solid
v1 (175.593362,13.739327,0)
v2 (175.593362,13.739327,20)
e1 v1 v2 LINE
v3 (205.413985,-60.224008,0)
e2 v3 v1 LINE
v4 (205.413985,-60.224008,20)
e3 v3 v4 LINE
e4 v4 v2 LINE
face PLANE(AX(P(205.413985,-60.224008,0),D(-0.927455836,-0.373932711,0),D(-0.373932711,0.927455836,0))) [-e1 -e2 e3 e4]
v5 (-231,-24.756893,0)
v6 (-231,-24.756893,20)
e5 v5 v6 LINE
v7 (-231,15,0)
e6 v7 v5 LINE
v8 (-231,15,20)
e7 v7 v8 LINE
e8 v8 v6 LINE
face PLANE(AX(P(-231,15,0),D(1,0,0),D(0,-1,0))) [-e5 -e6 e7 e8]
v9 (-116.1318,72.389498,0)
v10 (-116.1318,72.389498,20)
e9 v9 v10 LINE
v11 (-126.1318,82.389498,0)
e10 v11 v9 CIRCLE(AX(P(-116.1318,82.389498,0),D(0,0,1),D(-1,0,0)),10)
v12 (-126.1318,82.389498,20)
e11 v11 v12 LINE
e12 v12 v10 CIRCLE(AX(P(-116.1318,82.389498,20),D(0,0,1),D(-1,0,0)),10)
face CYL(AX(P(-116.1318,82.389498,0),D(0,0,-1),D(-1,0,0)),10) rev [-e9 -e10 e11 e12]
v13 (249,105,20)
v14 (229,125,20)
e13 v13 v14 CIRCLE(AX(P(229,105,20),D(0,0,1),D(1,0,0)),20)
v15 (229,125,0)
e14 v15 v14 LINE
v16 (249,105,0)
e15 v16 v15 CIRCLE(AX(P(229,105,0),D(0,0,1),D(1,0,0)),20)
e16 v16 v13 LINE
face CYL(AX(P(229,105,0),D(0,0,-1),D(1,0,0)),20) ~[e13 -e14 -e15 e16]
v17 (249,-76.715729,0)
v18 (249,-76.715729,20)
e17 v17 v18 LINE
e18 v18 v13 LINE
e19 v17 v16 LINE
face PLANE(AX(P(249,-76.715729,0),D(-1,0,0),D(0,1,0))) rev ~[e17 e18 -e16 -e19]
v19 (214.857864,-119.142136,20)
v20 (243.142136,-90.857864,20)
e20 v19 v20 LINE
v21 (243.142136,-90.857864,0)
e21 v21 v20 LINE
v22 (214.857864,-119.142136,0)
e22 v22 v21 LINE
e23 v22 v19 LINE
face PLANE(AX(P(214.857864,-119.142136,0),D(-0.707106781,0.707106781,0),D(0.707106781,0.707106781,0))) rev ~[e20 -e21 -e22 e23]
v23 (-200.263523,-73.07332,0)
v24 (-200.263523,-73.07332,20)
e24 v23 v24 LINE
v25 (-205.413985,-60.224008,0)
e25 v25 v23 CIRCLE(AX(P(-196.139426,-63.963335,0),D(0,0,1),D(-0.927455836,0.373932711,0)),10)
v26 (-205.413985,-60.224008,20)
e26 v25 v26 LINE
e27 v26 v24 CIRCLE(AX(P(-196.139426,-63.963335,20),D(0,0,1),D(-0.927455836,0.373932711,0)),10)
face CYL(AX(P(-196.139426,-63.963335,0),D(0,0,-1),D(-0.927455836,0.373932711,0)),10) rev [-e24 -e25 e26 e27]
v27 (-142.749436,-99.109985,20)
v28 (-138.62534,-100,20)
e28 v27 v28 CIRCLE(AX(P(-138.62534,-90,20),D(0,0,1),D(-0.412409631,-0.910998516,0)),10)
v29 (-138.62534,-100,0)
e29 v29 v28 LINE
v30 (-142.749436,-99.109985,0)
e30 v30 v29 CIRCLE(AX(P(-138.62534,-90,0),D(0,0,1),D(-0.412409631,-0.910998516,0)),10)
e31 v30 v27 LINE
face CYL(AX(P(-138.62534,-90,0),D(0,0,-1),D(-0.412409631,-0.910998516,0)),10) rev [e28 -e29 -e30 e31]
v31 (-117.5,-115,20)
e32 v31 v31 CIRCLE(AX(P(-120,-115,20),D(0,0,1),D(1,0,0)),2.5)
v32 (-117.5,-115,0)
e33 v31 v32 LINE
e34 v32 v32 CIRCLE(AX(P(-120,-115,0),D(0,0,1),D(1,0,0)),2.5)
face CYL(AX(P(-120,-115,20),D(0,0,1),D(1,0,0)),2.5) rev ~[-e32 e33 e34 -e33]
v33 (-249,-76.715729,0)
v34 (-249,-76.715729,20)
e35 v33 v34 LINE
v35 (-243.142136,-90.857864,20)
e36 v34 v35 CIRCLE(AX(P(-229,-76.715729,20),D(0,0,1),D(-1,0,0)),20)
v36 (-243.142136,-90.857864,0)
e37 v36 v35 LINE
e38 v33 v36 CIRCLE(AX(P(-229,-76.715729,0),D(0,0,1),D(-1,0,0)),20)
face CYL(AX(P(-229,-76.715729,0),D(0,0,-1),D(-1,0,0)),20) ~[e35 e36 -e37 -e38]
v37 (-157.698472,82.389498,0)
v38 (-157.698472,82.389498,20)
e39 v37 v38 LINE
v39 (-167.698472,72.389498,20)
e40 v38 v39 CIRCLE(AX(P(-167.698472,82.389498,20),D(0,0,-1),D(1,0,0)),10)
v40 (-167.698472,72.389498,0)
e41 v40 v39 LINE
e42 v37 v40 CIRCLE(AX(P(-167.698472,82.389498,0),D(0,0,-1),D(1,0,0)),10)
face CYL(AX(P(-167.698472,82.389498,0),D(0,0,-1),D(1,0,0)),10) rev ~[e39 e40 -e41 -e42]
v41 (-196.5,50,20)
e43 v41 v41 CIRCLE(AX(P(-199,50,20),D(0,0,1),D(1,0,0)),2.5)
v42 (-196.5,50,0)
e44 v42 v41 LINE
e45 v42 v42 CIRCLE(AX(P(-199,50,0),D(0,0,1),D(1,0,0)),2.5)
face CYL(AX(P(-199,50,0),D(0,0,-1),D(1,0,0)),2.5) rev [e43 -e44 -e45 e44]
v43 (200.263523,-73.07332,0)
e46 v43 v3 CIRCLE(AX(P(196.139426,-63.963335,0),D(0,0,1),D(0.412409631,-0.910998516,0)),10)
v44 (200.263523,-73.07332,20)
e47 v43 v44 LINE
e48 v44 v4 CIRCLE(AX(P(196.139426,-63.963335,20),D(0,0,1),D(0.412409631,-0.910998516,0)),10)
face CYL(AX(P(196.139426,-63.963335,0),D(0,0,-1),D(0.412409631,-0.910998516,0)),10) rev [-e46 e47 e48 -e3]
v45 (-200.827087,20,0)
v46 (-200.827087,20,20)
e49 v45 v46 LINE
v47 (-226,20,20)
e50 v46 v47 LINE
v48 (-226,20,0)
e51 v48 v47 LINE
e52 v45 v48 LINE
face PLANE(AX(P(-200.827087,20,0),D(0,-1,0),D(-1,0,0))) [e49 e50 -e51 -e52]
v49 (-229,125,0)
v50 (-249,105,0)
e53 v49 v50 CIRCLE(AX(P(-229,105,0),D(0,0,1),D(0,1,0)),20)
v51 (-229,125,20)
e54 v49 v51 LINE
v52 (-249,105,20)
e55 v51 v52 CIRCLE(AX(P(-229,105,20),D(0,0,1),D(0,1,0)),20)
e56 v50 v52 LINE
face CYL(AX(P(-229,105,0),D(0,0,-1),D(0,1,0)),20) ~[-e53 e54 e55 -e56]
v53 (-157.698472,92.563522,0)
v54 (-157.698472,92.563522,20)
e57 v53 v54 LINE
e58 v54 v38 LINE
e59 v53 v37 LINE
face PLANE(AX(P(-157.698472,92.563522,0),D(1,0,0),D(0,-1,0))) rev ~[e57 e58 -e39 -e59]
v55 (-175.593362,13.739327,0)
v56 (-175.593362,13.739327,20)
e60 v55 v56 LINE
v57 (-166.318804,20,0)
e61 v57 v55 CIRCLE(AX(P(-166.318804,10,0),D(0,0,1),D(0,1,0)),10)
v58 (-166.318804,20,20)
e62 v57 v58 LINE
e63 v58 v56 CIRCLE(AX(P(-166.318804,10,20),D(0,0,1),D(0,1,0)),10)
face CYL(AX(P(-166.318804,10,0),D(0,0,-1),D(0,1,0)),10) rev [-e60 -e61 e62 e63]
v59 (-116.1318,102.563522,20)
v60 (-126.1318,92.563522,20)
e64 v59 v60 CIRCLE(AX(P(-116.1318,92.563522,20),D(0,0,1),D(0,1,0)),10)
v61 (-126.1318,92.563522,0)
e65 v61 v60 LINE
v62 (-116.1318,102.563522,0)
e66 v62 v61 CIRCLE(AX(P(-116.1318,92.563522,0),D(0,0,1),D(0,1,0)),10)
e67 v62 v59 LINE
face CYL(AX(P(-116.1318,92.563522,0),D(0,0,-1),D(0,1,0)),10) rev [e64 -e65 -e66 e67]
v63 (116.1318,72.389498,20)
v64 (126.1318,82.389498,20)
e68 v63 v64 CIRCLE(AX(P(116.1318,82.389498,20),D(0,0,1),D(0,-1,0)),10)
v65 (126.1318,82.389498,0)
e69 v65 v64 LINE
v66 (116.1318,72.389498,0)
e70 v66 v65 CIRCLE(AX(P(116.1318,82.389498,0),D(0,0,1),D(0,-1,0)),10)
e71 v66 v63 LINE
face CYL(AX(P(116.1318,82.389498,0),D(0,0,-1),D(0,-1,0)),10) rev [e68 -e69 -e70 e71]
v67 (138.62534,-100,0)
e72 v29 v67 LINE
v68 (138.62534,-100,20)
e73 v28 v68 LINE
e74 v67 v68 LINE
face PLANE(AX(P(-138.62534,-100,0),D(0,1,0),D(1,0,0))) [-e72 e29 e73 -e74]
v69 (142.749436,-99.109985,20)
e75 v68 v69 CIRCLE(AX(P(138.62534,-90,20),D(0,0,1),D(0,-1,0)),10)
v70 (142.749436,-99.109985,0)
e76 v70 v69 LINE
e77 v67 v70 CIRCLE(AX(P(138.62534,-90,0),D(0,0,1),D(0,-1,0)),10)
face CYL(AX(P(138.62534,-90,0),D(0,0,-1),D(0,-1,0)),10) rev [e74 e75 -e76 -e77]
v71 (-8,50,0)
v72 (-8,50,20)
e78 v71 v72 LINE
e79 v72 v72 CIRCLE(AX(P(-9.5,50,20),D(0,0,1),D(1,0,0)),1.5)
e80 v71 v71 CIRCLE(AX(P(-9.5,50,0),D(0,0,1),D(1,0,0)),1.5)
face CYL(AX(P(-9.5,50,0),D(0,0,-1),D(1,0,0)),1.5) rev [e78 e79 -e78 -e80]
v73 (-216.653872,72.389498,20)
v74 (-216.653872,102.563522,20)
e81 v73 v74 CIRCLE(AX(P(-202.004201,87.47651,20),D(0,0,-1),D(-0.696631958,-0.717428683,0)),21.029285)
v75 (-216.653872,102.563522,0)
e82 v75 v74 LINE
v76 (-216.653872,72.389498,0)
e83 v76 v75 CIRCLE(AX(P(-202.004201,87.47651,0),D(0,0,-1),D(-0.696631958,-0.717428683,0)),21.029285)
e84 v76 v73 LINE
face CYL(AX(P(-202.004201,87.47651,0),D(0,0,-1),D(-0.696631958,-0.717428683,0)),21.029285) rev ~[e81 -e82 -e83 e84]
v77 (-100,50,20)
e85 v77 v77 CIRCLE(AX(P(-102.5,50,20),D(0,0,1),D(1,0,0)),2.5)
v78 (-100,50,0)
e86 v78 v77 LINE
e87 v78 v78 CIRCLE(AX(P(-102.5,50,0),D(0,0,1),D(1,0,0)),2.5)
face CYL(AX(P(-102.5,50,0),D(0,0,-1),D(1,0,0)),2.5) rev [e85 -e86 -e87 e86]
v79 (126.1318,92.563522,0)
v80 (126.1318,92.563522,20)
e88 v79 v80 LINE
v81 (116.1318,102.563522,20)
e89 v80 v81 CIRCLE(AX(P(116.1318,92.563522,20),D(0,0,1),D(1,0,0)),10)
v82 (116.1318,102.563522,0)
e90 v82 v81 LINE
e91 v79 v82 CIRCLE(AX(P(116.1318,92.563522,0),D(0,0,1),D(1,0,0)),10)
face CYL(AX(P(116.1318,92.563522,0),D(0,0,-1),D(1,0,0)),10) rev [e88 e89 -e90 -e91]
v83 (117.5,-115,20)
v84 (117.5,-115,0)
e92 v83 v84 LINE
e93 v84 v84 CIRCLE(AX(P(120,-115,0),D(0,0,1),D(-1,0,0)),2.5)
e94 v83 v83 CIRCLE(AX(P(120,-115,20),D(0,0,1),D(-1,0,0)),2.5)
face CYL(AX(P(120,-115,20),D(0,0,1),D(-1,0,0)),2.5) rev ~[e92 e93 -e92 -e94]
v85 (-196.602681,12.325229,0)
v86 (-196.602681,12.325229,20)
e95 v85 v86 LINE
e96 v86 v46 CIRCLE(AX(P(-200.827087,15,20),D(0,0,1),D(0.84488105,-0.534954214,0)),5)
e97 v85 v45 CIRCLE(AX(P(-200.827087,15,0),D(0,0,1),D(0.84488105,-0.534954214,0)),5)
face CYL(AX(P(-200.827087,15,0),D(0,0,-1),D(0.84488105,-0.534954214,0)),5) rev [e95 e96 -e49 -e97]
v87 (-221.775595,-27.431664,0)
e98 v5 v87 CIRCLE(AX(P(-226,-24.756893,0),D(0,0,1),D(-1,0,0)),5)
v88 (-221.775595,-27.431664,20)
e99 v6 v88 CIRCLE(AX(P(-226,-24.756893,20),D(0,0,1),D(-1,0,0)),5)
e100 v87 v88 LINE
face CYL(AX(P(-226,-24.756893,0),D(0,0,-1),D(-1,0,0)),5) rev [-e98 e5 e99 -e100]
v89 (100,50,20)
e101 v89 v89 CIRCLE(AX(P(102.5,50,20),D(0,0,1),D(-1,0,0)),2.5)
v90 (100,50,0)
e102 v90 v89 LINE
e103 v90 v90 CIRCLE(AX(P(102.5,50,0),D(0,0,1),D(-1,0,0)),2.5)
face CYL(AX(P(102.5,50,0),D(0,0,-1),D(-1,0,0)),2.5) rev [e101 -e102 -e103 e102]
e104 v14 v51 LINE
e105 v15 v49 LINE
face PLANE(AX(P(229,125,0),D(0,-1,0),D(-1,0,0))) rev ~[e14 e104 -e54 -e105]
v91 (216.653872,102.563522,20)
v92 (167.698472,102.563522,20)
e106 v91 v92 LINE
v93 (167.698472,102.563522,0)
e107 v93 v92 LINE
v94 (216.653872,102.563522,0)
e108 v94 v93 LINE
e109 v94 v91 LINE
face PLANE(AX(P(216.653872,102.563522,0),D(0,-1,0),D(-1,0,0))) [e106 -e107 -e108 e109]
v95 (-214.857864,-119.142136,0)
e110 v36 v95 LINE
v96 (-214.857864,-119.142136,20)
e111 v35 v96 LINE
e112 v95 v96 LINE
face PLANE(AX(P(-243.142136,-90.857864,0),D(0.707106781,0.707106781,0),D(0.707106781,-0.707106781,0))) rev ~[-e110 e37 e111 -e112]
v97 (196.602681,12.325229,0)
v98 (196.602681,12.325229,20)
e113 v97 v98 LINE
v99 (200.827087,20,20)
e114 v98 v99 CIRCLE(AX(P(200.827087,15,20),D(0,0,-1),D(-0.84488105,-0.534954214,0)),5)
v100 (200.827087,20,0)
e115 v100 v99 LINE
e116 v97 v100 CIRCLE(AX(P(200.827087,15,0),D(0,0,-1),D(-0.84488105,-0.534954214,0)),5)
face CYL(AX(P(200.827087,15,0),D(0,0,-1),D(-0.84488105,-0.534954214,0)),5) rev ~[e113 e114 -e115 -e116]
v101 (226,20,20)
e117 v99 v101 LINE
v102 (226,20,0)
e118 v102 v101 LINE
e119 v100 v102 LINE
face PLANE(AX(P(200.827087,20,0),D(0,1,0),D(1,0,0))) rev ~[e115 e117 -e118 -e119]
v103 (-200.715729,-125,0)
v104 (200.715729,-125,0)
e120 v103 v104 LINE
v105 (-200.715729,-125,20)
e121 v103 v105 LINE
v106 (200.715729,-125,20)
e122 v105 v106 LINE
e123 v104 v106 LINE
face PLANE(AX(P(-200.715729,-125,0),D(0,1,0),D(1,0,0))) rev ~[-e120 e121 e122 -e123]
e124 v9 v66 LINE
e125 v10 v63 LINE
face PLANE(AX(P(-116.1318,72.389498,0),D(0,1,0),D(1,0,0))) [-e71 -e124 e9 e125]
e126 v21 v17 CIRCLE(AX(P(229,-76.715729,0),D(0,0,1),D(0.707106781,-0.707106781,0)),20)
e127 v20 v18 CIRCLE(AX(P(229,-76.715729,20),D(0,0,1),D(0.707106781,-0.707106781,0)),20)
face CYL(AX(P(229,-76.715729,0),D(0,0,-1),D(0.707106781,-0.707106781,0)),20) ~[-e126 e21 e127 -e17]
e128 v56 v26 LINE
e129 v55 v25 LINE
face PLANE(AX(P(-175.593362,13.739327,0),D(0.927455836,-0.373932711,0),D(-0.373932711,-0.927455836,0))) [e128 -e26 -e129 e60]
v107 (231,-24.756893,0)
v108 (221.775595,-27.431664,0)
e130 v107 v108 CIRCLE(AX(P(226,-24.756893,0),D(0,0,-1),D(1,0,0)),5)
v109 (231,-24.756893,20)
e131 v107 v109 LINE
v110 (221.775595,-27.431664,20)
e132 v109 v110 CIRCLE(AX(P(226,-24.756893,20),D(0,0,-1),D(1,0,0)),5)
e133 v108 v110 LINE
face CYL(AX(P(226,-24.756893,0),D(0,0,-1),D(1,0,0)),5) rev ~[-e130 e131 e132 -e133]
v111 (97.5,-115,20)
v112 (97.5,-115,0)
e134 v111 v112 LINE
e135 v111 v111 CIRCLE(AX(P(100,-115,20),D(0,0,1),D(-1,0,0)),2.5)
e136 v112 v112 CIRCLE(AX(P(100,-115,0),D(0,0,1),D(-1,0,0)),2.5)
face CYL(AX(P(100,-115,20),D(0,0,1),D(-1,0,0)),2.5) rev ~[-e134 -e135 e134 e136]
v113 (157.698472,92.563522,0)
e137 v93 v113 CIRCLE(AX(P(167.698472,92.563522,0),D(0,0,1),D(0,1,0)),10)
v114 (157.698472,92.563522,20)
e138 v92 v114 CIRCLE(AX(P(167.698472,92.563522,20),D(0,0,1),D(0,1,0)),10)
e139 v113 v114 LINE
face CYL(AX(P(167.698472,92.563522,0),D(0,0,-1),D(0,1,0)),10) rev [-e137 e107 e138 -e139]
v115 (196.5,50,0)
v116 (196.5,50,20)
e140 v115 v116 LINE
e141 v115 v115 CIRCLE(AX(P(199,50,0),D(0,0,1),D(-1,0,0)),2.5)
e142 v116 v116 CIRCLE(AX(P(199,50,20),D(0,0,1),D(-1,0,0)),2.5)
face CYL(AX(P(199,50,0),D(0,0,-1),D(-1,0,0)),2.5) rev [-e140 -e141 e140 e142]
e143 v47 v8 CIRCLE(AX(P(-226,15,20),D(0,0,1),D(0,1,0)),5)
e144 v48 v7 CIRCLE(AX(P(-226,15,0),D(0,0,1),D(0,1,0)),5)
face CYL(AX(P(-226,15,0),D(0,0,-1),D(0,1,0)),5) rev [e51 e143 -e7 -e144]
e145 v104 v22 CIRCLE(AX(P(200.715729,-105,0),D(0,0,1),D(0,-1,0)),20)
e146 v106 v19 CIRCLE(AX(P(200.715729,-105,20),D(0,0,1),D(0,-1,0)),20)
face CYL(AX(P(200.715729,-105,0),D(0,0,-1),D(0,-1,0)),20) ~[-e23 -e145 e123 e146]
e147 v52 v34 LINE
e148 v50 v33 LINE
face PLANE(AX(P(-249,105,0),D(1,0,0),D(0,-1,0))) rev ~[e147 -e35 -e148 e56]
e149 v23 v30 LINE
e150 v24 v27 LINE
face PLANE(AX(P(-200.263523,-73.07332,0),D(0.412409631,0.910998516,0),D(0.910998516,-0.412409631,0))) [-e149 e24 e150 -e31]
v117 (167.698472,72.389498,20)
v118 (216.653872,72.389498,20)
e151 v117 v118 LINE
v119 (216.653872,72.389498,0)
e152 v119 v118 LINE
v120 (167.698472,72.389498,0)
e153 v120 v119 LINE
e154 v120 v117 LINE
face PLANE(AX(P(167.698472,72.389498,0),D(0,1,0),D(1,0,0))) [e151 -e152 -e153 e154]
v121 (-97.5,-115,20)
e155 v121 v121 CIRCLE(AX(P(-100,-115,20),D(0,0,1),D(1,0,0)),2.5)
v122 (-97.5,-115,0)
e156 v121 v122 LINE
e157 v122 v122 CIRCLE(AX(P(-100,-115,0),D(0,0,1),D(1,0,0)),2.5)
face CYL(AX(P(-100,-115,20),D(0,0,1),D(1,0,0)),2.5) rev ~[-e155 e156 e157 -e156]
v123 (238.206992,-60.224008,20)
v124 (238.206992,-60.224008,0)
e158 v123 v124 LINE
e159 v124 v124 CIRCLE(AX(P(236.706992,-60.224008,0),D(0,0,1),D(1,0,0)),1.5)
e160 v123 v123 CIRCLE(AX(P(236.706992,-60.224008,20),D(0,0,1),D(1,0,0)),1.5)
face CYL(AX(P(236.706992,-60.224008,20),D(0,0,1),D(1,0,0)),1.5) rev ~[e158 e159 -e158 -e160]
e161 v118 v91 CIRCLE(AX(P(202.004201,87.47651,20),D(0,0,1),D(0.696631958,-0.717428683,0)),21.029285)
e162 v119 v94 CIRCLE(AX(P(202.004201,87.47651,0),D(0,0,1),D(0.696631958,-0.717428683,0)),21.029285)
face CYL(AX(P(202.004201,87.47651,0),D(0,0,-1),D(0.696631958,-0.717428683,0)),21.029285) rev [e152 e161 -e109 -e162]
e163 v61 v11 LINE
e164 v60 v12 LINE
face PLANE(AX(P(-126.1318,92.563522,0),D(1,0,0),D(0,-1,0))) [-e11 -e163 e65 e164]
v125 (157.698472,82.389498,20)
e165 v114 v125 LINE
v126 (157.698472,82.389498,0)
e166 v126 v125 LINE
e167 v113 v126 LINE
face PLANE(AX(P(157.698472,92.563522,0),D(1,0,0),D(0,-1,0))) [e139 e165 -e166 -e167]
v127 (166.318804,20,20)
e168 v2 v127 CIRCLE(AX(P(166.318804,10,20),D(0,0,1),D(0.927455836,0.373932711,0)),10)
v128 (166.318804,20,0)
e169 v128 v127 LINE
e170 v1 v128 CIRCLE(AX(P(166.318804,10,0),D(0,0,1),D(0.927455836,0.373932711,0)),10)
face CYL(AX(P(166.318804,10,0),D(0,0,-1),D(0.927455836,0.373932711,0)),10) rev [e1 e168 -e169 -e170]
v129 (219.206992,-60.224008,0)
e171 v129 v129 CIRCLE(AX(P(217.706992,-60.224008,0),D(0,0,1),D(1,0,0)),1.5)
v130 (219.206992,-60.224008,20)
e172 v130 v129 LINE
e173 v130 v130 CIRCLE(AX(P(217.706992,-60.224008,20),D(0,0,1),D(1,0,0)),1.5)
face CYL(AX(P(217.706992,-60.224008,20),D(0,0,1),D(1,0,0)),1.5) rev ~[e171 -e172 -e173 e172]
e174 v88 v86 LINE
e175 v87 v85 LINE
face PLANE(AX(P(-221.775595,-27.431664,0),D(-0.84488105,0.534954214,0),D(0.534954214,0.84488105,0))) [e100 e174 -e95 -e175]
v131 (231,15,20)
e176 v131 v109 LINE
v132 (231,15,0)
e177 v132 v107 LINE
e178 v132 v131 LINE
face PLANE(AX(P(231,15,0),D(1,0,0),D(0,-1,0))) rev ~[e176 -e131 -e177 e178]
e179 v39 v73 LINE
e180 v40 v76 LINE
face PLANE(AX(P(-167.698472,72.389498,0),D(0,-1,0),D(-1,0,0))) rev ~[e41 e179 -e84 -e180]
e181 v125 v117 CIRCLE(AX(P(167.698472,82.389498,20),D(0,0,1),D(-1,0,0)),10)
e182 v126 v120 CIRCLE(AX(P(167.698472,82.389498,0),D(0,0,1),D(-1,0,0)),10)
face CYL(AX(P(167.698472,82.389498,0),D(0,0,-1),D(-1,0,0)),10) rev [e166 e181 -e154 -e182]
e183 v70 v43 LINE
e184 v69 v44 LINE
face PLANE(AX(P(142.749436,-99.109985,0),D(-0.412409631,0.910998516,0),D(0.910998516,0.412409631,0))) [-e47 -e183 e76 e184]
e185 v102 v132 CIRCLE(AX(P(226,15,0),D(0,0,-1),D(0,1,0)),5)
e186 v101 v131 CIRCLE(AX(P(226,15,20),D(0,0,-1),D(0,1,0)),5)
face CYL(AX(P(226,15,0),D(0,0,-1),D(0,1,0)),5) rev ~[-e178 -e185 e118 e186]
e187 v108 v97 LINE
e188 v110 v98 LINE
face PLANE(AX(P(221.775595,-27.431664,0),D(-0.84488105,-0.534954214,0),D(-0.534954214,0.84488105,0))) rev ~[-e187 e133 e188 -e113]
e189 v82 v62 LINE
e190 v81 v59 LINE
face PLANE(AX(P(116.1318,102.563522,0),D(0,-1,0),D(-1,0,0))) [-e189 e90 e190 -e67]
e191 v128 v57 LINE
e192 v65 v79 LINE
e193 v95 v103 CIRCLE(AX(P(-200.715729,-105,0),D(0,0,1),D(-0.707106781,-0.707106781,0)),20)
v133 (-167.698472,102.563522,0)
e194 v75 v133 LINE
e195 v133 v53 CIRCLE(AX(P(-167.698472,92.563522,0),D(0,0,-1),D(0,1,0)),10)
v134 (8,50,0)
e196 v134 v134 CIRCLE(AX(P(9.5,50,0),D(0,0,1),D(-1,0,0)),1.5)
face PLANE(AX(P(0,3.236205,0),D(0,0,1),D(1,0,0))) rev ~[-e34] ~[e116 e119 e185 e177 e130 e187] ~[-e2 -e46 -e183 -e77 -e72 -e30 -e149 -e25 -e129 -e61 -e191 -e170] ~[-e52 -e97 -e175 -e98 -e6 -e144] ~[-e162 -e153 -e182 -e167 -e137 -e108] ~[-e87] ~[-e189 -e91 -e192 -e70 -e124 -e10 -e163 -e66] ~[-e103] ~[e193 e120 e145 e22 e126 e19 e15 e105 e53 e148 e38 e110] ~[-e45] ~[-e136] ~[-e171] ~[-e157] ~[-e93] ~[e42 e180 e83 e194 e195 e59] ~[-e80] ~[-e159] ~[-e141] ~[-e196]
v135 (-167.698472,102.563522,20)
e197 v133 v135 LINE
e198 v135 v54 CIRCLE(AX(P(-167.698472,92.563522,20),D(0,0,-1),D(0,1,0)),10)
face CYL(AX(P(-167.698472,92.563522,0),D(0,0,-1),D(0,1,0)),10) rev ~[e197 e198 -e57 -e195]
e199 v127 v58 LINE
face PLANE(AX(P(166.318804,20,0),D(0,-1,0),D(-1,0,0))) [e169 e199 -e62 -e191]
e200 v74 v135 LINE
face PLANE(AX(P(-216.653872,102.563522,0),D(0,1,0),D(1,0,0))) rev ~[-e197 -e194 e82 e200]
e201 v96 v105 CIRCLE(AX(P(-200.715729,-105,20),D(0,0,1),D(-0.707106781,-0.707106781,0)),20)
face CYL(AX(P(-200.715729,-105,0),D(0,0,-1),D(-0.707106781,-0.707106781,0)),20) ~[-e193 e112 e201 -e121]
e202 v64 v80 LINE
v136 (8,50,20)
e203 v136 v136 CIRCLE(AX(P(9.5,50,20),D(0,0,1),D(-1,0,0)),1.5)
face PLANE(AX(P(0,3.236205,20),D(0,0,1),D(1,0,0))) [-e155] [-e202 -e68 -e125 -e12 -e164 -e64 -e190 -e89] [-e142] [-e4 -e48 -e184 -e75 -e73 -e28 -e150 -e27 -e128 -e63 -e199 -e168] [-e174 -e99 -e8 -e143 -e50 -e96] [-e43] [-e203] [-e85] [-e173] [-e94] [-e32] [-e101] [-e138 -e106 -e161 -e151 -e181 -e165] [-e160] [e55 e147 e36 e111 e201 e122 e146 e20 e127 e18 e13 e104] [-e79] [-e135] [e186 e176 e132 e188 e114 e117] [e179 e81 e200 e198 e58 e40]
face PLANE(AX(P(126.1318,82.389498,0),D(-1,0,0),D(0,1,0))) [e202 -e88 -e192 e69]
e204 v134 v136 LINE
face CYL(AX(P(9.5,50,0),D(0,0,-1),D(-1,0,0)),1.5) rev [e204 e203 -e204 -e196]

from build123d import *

# Parameters (mm, degrees)
SKETCH1_R           = 2.5
SKETCH1_R_2         = 1.5
BOSS_EXTRUDE1_DEPTH = 20
SKETCH3_R           = 2.5
CUT_EXTRUDE1_DEPTH  = 20
SKETCH4_R           = 1.5
CUT_EXTRUDE2_DEPTH  = 20


with BuildPart() as part:
    # Sketch1 → Boss-Extrude1 (new body)
    with BuildSketch(Plane.XY):
        with BuildLine():
            Line((-200.715728753, -125), (200.715728753, -125))
            ThreePointArc((200.715728753, -125), (208.3693974, -123.47759065), (214.857864376, -119.142135624))
            Line((214.857864376, -119.142135624), (243.142135624, -90.857864376))
            ThreePointArc((243.142135624, -90.857864376), (247.47759065, -84.3693974), (249, -76.715728753))
            Line((249, -76.715728753), (249, 105))
            ThreePointArc((249, 105), (243.142135624, 119.142135624), (229, 125))
            Line((229, 125), (-229, 125))
            ThreePointArc((-229, 125), (-243.142135624, 119.142135624), (-249, 105))
            Line((-249, 105), (-249, -76.715728753))
            ThreePointArc((-249, -76.715728753), (-247.47759065, -84.3693974), (-243.142135624, -90.857864376))
            Line((-243.142135624, -90.857864376), (-214.857864376, -119.142135624))
            ThreePointArc((-214.857864376, -119.142135624), (-208.3693974, -123.47759065), (-200.715728753, -125))
        make_face()
        with Locations((-199, 50)):
            Circle(SKETCH1_R, mode=Mode.SUBTRACT)
        with Locations((-102.5, 50)):
            Circle(SKETCH1_R, mode=Mode.SUBTRACT)
        with Locations(Location((102.5, 50, 0), (0, 0, 180))):
            Circle(SKETCH1_R, mode=Mode.SUBTRACT)
        with Locations(Location((199, 50, 0), (0, 0, 180))):
            Circle(SKETCH1_R, mode=Mode.SUBTRACT)
        with Locations((-9.5, 50)):
            Circle(SKETCH1_R_2, mode=Mode.SUBTRACT)
        with Locations(Location((9.5, 50, 0), (0, 0, 180))):
            Circle(SKETCH1_R_2, mode=Mode.SUBTRACT)
        with BuildLine():
            Line((116.131800265, 102.563522474), (-116.131800265, 102.563522474))
            ThreePointArc((-116.131800265, 102.563522474), (-123.202868077, 99.634590285), (-126.131800265, 92.563522474))
            Line((-126.131800265, 92.563522474), (-126.131800265, 82.389498448))
            ThreePointArc((-126.131800265, 82.389498448), (-123.202868077, 75.318430636), (-116.131800265, 72.389498448))
            Line((-116.131800265, 72.389498448), (116.131800265, 72.389498448))
            ThreePointArc((116.131800265, 72.389498448), (123.202868077, 75.318430636), (126.131800265, 82.389498448))
            Line((126.131800265, 82.389498448), (126.131800265, 92.563522474))
            ThreePointArc((126.131800265, 92.563522474), (123.202868077, 99.634590285), (116.131800265, 102.563522474))
        make_face(mode=Mode.SUBTRACT)
        with BuildLine():
            Line((-216.653872342, 102.563522474), (-167.698471554, 102.563522474))
            ThreePointArc((-167.698471554, 102.563522474), (-160.627403742, 99.634590285), (-157.698471554, 92.563522474))
            Line((-157.698471554, 92.563522474), (-157.698471554, 82.389498448))
            ThreePointArc((-157.698471554, 82.389498448), (-160.627403742, 75.318430636), (-167.698471554, 72.389498448))
            Line((-167.698471554, 72.389498448), (-216.653872342, 72.389498448))
            ThreePointArc((-216.653872342, 72.389498448), (-223.033485264, 87.476510461), (-216.653872342, 102.563522474))
        make_face(mode=Mode.SUBTRACT)
        with BuildLine():
            Line((166.318803771, 20), (-166.318803771, 20))
            ThreePointArc((-166.318803771, 20), (-171.913744739, 18.288343355), (-175.593362129, 13.739327113))
            Line((-175.593362129, 13.739327113), (-205.413984615, -60.224007784))
            ThreePointArc((-205.413984615, -60.224007784), (-205.421516172, -67.683927162), (-200.263522564, -73.073320059))
            Line((-200.263522564, -73.073320059), (-142.749435826, -99.109985162))
            ThreePointArc((-142.749435826, -99.109985162), (-140.734859414, -99.774964236), (-138.625339518, -100))
            Line((-138.625339518, -100), (138.625339518, -100))
            ThreePointArc((138.625339518, -100), (140.734859414, -99.774964236), (142.749435826, -99.109985162))
            Line((142.749435826, -99.109985162), (200.263522564, -73.073320059))
            ThreePointArc((200.263522564, -73.073320059), (205.421516172, -67.683927162), (205.413984615, -60.224007784))
            Line((205.413984615, -60.224007784), (175.593362129, 13.739327113))
            ThreePointArc((175.593362129, 13.739327113), (171.913744739, 18.288343355), (166.318803771, 20))
        make_face(mode=Mode.SUBTRACT)
        with BuildLine():
            Line((-231, 15), (-231, -24.756893222))
            ThreePointArc((-231, -24.756893222), (-227.392475088, -29.55908159), (-221.775594749, -27.431664291))
            Line((-221.775594749, -27.431664291), (-196.602681295, 12.325228931))
            ThreePointArc((-196.602681295, 12.325228931), (-196.446798009, 17.411031382), (-200.827086546, 20))
            Line((-200.827086546, 20), (-226, 20))
            ThreePointArc((-226, 20), (-229.535533906, 18.535533906), (-231, 15))
        make_face(mode=Mode.SUBTRACT)
        with BuildLine():
            Line((221.775594749, -27.431664291), (196.602681295, 12.325228931))
            ThreePointArc((196.602681295, 12.325228931), (196.446798009, 17.411031382), (200.827086546, 20))
            Line((200.827086546, 20), (226, 20))
            ThreePointArc((226, 20), (229.535533906, 18.535533906), (231, 15))
            Line((231, 15), (231, -24.756893222))
            ThreePointArc((231, -24.756893222), (227.392475088, -29.55908159), (221.775594749, -27.431664291))
        make_face(mode=Mode.SUBTRACT)
        with BuildLine():
            Line((157.698471554, 92.563522474), (157.698471554, 82.389498448))
            ThreePointArc((157.698471554, 82.389498448), (160.627403742, 75.318430636), (167.698471554, 72.389498448))
            Line((167.698471554, 72.389498448), (216.653872342, 72.389498448))
            ThreePointArc((216.653872342, 72.389498448), (223.033485264, 87.476510461), (216.653872342, 102.563522474))
            Line((216.653872342, 102.563522474), (167.698471554, 102.563522474))
            ThreePointArc((167.698471554, 102.563522474), (160.627403742, 99.634590285), (157.698471554, 92.563522474))
        make_face(mode=Mode.SUBTRACT)
    extrude(amount=BOSS_EXTRUDE1_DEPTH)

    # Sketch3 → Cut-Extrude1 (cut)
    with BuildSketch(Plane.XY.offset(20)):
        with Locations((-100, -115)):
            Circle(SKETCH3_R)
        with Locations((-120, -115)):
            Circle(SKETCH3_R)
        with Locations(Location((100, -115, 0), (0, 0, 180))):
            Circle(SKETCH3_R)
        with Locations(Location((120, -115, 0), (0, 0, 180))):
            Circle(SKETCH3_R)
    extrude(amount=-CUT_EXTRUDE1_DEPTH, mode=Mode.SUBTRACT)

    # Sketch4 → Cut-Extrude2 (cut)
    with BuildSketch(Plane.XY.offset(20)):
        with Locations((236.706992308, -60.224007784)):
            Circle(SKETCH4_R)
        with Locations((217.706992308, -60.224007784)):
            Circle(SKETCH4_R)
    extrude(amount=-CUT_EXTRUDE2_DEPTH, mode=Mode.SUBTRACT)


solid = part.part
